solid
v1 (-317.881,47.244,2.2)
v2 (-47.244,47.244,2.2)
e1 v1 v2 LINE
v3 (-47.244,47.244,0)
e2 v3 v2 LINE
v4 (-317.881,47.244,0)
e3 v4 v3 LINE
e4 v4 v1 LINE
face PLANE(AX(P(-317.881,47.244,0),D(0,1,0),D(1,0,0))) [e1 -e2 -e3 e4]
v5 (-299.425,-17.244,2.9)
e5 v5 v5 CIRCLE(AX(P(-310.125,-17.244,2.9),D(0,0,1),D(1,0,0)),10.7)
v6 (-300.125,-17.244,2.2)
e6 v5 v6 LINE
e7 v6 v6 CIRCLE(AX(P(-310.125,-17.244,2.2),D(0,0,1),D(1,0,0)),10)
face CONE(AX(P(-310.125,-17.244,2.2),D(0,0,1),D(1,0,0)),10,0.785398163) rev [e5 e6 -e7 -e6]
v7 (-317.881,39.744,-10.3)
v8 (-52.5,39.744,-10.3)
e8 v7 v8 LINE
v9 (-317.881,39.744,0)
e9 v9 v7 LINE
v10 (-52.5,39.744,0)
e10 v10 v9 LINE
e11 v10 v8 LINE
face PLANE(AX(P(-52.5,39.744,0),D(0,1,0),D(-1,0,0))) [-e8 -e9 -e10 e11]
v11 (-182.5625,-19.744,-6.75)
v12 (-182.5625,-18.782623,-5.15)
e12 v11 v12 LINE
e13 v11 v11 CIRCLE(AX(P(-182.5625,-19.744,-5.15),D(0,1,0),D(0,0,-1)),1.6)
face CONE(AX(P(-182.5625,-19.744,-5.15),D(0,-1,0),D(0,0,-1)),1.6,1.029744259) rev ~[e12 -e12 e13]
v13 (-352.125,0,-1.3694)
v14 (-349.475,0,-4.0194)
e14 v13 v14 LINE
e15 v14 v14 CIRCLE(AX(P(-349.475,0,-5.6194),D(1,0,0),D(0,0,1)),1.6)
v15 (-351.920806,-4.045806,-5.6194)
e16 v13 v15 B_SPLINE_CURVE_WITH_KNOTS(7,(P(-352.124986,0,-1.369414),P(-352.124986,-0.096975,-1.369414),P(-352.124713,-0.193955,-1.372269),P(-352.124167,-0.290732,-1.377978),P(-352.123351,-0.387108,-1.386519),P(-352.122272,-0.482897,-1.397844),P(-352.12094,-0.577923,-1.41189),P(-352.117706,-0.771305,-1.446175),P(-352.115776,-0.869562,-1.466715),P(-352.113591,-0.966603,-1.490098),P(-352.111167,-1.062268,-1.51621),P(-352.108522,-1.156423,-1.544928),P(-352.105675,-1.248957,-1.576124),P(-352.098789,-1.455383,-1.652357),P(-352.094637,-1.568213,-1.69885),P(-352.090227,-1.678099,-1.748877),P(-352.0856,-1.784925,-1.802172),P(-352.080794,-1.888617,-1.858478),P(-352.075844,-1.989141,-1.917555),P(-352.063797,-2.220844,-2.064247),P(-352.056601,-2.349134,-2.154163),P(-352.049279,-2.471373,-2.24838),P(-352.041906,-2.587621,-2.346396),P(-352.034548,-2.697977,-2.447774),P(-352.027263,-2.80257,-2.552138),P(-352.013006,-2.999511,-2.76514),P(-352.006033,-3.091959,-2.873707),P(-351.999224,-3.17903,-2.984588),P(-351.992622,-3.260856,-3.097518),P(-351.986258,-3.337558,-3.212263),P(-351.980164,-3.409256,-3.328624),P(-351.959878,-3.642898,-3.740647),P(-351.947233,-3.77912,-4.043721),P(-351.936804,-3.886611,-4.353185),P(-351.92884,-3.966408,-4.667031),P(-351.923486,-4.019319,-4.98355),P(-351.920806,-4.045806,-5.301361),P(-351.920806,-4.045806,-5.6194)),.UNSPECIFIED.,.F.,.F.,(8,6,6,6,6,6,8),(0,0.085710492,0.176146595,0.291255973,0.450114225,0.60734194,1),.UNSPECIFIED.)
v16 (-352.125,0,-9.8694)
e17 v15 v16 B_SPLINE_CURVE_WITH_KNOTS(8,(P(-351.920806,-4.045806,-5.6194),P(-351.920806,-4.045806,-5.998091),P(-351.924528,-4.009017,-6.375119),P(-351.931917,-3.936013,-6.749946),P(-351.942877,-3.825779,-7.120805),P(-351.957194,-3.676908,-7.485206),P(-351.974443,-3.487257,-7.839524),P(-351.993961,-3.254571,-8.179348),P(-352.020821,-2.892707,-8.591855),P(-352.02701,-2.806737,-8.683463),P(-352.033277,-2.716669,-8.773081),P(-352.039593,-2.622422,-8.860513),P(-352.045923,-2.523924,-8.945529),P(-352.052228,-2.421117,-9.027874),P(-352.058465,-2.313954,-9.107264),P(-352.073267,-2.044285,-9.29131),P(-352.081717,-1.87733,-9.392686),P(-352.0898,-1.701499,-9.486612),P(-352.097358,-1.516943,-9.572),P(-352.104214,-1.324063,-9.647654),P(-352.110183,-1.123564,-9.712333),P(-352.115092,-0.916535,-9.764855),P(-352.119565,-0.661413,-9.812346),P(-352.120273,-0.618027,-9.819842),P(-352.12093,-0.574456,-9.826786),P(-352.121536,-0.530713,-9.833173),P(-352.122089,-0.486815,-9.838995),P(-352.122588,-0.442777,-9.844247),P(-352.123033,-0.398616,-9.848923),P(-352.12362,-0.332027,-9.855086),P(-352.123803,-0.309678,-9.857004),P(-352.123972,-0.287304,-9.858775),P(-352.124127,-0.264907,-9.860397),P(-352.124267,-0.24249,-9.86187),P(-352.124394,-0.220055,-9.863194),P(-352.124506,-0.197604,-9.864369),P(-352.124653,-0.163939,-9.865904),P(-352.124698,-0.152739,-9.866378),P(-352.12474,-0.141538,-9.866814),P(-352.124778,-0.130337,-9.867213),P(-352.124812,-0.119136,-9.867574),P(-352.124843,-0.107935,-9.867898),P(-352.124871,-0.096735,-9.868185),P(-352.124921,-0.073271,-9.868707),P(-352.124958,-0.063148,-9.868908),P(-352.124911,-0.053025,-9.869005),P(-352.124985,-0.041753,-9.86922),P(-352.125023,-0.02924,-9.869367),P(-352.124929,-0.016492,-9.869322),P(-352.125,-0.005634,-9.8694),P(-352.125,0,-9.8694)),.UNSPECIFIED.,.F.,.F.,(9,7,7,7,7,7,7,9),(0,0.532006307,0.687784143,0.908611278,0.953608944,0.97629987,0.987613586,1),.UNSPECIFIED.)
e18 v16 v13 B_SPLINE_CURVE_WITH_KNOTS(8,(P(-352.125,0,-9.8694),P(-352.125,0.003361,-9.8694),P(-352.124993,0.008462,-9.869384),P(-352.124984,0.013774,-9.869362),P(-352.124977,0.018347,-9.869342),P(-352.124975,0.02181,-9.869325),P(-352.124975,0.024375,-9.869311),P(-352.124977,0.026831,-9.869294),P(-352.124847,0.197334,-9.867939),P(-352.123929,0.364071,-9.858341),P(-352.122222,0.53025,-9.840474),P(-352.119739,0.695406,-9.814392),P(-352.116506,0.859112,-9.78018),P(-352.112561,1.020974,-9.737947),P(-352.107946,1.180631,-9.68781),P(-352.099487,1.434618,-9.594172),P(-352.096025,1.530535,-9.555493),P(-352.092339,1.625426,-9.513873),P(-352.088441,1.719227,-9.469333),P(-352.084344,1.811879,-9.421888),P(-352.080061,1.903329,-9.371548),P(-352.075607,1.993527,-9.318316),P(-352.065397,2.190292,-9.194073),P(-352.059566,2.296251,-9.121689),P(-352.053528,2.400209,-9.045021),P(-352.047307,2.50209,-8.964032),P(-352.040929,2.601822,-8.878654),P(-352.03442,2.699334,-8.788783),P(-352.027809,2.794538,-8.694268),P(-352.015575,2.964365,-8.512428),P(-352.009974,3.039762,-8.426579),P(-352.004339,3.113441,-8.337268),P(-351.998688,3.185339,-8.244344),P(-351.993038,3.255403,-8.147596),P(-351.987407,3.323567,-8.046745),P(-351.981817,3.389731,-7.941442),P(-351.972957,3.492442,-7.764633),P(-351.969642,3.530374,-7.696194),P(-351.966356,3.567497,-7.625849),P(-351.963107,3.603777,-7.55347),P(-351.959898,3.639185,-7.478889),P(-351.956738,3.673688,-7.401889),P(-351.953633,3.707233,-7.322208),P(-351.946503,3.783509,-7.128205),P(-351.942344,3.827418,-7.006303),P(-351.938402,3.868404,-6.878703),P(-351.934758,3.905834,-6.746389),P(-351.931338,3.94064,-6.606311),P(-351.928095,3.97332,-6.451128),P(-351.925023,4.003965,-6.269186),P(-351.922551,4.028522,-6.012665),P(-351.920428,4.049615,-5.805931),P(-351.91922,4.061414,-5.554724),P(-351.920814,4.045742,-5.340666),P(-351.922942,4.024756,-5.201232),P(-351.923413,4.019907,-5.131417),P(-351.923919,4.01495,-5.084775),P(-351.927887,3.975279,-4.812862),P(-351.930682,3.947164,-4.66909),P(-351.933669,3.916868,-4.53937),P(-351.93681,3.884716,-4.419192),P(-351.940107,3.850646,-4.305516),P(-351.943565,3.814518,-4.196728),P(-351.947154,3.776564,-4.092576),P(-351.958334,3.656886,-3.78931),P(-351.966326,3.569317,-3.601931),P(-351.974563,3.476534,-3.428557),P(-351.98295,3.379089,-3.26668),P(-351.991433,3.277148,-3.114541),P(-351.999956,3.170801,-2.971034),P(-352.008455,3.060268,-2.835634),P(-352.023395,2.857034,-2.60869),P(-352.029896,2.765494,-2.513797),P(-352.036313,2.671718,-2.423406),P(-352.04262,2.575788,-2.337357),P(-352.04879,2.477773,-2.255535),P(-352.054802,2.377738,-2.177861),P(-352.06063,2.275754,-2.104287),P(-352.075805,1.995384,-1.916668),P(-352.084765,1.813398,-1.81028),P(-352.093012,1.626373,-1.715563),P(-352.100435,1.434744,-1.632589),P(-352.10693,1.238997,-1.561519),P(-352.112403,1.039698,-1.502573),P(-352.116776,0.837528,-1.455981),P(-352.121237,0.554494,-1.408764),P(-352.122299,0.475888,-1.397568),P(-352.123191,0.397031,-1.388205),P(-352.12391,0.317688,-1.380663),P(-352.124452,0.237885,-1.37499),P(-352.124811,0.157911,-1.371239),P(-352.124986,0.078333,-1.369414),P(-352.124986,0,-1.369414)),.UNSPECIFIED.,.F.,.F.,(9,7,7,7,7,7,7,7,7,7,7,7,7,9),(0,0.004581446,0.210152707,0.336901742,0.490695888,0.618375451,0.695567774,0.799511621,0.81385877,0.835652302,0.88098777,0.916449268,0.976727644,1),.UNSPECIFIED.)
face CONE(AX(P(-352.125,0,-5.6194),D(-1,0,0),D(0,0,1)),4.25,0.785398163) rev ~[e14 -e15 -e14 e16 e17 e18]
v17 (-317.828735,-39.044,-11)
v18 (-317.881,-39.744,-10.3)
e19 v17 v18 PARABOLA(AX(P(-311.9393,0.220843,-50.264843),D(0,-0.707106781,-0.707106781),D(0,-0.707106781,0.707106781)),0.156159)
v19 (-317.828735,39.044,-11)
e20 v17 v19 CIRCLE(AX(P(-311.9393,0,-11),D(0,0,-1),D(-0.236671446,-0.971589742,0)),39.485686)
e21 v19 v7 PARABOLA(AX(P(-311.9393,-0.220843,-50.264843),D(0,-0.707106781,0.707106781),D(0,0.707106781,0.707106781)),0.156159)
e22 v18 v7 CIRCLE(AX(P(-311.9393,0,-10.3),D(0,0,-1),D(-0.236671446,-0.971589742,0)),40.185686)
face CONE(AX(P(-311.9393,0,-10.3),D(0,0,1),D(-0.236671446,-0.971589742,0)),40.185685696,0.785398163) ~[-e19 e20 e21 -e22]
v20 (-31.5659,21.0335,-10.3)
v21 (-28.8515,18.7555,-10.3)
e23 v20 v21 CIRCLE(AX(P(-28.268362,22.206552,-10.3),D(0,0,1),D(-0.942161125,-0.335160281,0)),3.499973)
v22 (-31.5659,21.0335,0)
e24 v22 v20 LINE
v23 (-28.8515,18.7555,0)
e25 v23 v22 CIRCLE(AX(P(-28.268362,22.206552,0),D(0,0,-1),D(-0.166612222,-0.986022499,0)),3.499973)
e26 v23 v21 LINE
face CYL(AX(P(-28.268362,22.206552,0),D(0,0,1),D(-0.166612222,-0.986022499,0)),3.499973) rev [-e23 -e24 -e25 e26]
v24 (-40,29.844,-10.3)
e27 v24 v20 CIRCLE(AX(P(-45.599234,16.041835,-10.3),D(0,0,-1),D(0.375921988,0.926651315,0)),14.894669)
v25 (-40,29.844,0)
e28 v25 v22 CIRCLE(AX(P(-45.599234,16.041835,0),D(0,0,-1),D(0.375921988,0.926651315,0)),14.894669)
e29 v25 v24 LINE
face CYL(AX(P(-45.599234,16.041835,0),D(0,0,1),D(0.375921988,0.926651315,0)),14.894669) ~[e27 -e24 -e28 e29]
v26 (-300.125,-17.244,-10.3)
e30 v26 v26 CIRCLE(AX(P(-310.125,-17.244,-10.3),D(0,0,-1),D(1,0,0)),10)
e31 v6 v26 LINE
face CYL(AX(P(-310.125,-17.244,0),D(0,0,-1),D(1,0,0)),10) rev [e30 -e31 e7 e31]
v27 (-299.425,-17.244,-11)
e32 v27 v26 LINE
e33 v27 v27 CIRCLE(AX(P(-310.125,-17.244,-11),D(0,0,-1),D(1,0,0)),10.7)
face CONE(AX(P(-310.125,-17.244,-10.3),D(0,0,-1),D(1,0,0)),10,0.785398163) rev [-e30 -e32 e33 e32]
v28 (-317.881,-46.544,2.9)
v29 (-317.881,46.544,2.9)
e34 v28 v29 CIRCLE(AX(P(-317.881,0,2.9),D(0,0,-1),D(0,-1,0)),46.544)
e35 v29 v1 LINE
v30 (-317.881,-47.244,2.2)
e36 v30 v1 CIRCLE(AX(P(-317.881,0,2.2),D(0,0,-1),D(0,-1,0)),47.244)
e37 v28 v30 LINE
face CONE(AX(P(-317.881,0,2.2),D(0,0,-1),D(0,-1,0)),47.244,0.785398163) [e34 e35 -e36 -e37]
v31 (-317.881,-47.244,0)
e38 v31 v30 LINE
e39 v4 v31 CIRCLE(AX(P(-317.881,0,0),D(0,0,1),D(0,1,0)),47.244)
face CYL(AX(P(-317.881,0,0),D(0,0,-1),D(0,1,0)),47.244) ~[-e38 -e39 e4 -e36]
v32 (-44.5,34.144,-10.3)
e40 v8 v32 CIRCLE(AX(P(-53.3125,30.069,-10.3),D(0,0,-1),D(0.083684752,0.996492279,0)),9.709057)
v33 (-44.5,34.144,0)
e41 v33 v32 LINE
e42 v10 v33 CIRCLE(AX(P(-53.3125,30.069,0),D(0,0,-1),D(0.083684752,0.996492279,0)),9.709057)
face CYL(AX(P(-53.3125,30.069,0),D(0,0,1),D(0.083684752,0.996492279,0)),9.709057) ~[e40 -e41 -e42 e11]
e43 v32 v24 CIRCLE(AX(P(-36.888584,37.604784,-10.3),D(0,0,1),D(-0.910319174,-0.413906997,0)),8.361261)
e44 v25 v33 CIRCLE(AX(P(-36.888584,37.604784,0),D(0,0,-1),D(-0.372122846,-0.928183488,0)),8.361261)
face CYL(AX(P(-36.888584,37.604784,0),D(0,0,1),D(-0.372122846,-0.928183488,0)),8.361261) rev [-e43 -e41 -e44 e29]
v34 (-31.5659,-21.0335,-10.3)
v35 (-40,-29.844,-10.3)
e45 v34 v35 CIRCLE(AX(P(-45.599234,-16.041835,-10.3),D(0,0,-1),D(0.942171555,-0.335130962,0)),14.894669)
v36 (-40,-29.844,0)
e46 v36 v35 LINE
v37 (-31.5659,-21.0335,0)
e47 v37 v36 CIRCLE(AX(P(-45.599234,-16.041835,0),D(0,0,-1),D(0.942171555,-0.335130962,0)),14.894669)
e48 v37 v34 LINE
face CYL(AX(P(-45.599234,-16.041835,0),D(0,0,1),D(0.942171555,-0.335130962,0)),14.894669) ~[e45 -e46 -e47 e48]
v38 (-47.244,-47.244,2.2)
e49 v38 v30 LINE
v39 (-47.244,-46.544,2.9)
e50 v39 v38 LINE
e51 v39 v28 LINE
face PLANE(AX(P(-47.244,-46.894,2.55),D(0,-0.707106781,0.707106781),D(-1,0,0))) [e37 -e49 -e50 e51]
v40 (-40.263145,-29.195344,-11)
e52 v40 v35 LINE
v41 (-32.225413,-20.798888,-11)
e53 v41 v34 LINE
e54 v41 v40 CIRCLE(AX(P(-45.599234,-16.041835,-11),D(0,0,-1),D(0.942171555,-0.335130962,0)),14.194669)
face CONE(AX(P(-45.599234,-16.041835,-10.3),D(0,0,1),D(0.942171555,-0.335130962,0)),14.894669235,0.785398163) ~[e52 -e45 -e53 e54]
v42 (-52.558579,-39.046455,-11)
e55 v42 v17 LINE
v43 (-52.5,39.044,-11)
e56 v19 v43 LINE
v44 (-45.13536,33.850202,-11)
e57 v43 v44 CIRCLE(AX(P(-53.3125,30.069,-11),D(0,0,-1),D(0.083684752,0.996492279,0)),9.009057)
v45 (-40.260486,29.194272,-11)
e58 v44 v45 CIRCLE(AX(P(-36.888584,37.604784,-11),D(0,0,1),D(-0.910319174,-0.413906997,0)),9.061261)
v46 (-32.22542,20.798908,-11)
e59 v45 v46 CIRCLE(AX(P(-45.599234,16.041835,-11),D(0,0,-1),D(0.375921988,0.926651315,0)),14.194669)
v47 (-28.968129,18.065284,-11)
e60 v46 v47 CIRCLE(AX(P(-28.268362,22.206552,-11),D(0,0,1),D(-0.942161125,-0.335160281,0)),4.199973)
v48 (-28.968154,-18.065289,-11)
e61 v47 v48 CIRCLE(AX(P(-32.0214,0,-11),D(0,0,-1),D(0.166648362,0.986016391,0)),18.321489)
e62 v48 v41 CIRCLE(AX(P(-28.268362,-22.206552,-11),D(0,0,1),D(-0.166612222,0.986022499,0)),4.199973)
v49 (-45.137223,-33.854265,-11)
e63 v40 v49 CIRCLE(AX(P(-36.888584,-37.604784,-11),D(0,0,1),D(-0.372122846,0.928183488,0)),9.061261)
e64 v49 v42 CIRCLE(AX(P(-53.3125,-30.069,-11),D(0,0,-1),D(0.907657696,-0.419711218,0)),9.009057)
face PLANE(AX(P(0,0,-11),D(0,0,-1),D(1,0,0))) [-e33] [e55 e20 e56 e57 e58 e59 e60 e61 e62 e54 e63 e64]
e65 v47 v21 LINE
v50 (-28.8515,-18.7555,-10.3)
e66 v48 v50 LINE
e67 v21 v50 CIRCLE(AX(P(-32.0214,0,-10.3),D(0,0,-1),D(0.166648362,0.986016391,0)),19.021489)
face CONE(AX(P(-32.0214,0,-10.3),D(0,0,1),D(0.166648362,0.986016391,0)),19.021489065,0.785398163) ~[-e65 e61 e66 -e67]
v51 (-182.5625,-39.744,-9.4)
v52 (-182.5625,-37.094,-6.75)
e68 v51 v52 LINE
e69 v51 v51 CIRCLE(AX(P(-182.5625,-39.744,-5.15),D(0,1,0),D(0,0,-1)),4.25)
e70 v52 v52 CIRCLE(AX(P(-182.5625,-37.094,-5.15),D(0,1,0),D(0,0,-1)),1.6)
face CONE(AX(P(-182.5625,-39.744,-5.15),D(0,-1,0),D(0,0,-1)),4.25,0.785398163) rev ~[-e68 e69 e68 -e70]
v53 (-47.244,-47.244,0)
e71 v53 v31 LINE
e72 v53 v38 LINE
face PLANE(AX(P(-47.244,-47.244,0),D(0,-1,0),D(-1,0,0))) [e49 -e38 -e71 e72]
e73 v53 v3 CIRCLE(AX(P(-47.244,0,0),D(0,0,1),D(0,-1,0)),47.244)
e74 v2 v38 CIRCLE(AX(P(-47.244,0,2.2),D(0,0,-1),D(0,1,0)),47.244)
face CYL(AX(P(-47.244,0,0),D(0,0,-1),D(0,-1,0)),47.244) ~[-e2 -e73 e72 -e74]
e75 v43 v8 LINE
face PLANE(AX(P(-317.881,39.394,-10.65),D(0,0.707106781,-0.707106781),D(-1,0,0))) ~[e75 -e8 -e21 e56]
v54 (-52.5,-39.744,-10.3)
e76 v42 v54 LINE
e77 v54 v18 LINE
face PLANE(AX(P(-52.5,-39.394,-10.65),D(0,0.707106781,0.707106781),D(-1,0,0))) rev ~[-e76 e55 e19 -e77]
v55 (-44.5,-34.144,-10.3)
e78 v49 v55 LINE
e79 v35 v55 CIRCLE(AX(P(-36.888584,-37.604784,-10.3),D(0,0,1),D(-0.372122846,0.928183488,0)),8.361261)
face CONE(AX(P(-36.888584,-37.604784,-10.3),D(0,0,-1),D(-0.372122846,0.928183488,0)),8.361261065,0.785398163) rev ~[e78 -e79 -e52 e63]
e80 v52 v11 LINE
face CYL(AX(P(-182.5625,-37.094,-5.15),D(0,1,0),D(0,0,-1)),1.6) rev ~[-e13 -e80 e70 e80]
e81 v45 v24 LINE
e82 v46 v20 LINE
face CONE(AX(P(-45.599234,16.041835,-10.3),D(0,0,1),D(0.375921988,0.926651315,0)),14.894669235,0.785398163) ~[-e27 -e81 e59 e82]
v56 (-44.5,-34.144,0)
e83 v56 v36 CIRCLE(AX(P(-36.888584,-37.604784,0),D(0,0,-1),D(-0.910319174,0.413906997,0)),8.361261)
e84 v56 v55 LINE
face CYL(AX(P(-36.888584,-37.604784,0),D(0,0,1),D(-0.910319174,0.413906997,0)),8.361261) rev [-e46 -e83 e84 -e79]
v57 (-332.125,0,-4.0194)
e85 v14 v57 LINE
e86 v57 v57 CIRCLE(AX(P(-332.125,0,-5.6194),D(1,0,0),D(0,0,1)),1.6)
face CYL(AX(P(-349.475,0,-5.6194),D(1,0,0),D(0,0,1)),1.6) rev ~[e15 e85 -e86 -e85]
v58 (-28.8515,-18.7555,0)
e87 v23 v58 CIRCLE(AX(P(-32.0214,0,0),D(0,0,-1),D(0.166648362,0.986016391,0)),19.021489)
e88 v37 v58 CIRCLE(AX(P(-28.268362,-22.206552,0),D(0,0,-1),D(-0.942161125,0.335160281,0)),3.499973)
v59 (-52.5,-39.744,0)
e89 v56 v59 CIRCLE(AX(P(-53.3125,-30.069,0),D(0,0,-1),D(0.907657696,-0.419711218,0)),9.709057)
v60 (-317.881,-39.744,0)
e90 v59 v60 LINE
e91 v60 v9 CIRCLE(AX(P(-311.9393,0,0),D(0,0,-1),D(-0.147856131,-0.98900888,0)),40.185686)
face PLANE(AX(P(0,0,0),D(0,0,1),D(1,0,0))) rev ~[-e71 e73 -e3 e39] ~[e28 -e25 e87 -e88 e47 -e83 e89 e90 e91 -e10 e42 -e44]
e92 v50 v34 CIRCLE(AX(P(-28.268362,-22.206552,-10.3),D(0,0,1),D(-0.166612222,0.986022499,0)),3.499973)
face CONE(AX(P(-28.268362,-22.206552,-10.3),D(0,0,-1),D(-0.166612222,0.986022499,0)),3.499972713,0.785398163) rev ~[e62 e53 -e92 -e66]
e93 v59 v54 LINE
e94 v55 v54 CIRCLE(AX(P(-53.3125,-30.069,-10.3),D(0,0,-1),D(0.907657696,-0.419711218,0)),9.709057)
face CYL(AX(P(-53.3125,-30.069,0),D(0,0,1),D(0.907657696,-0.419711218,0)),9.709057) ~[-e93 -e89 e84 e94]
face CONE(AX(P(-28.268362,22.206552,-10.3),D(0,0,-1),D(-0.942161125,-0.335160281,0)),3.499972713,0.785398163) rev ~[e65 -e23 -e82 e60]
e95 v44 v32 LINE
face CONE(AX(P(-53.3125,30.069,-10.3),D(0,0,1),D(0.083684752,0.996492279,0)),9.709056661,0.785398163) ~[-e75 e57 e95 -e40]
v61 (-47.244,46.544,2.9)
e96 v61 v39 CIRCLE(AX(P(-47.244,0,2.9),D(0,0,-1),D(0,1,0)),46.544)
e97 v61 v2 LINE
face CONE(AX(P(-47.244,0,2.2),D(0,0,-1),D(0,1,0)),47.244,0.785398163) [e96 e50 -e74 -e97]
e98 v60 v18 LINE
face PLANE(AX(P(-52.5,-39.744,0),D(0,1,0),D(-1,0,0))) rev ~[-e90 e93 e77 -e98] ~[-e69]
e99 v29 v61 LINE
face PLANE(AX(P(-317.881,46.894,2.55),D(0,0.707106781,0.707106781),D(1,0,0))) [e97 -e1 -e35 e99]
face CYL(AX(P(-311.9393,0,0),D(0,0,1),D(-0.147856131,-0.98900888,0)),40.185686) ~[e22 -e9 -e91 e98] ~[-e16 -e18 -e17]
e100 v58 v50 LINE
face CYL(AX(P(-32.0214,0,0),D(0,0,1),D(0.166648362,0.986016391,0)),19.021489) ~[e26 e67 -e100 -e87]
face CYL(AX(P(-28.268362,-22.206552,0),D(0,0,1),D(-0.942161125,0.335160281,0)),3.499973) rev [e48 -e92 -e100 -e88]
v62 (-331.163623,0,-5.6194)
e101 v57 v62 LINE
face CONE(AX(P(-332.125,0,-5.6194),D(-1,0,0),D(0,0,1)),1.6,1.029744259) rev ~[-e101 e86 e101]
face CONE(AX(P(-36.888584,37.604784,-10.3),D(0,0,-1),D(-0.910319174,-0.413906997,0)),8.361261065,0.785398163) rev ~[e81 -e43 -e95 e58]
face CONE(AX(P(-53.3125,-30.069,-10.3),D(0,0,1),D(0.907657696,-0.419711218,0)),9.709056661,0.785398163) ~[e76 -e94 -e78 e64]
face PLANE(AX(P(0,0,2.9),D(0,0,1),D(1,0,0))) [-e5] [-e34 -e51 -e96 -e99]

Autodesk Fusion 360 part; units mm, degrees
sketch "Sketch1" plane through (0, 0, 0) normal (0, 0, 1) x (1, 0, 0)
  line L0 (0, 0) -> (-365.125, 0) construction
  line L1 (-365.125, 0) -> (-365.125, 47.244) construction
  line L2 (-365.125, 47.244) -> (0, 47.244) construction
  line L3 (0, 47.244) -> (0, -47.244) construction
  line L4 (0, -47.244) -> (-365.125, -47.244) construction
  line L5 (-365.125, -47.244) -> (-365.125, 47.244) construction
  line L6 (-47.244, 47.244) -> (-47.244, -47.244) construction
  arc A0 (-47.244, -47.244) -> (-47.244, 47.244) centre (-47.244, 0) ccw
  line L7 (-317.881, 47.244) -> (-317.881, -47.244) construction
  arc A1 (-317.881, 47.244) -> (-317.881, -47.244) centre (-317.881, 0) ccw
  line L8 (-317.881, 47.244) -> (-47.244, 47.244)
  line L9 (-47.244, -47.244) -> (-317.881, -47.244)
  line L10 (-365.125, -47.244) -> (-310.125, -47.244) construction
  line L11 (-310.125, -47.244) -> (-310.125, -17.244) construction
  line L12 (-310.125, -17.244) -> (-365.125, -17.244) construction
  line L13 (-365.125, -17.244) -> (-365.125, -47.244) construction
  circle A2 centre (-310.125, -17.244) radius 10
  dimension "d3" = 365.125
  dimension "d4" = 47.244
  dimension "d5" = 365.125
  dimension "d6" = 94.488
  dimension "d10" = 55
  dimension "d11" = 30
  dimension "d12" = 20
extrude "Extrude1" add sketch "Sketch1" along normal blind 2.9
sketch "Sketch2" plane through (0, 0, 0) normal (0, 0, -1) x (1, 0, 0)
  circle A0 centre (-310.125, 17.244) radius 10 construction
  arc A1 (-317.881, 47.244) -> (-317.881, -47.244) centre (-317.881, 0) ccw construction
  line L0 (-317.881, -47.244) -> (-47.244, -47.244) construction
  arc A2 (-47.244, -47.244) -> (-47.244, 47.244) centre (-47.244, 0) ccw construction
  line L1 (-47.244, 47.244) -> (-317.881, 47.244) construction
  line L2 (0, 0) -> (-365.125, 0) construction
  line L3 (0, 0) -> (-31, 0) construction
  line L4 (-31, 0) -> (-31, -100) construction
  line L5 (0, 0) -> (-52.5, 0) construction
  line L6 (-52.5, 0) -> (-52.5, -100) construction
  line L7 (-52.5, 0) -> (-44.5, 0) construction
  line L8 (-44.5, 0) -> (-44.5, -100) construction
  line L9 (-52.5, 0) -> (-40, 0) construction
  line L10 (-40, 0) -> (-40, -100) construction
  line L11 (-52.5, -47.244) -> (-52.5, -39.744) construction
  line L12 (-52.5, -39.744) -> (-52.5, -34.144) construction
  line L13 (-52.5, -39.744) -> (-52.5, -29.844) construction
  line L14 (-52.5, -39.744) -> (-52.5, -18.994) construction
  line L15 (-52.5, -39.744) -> (47.5, -39.744) construction
  line L16 (-52.5, -34.144) -> (47.5, -34.144) construction
  line L17 (-52.5, -29.844) -> (47.5, -29.844) construction
  line L18 (-52.5, -18.994) -> (47.5, -18.994) construction
  line L19 (-52.5, -39.744) -> (-317.881, -39.744)
  arc A3 (-52.5, -39.744) -> (-44.5, -34.144) centre (-53.3125, -30.069) ccw
  arc A4 (-40, -29.844) -> (-44.5, -34.144) centre (-36.8886, -37.6048) ccw
  arc A5 (-40, -29.844) -> (-31.5659, -21.0335) centre (-45.5992, -16.0418) ccw
  line L20 (0, 0) -> (-365.125, 0) construction
  arc A6 (-31.5659, 21.0335) -> (-40, 29.844) centre (-45.5992, 16.0418) ccw
  arc A7 (-44.5, 34.144) -> (-40, 29.844) centre (-36.8886, 37.6048) ccw
  arc A8 (-44.5, 34.144) -> (-52.5, 39.744) centre (-53.3125, 30.069) ccw
  line L21 (-52.5, 39.744) -> (-317.881, 39.744)
  line L22 (-31, -18.994) -> (-31, 18.994) construction
  line L23 (-317.881, -47.244) -> (-317.881, -39.744) construction
  line L24 (-365.125, 0) -> (-352.125, 0) construction
  arc A9 (-317.881, 39.744) -> (-317.881, -39.744) centre (-311.9393, 0) ccw
  line L25 (0, 0) -> (-13, 0) construction
  arc A10 (-28.8515, -18.7555) -> (-28.8515, 18.7555) centre (-32.0214, 0) ccw
  arc A11 (-28.8515, -18.7555) -> (-31.5659, -21.0335) centre (-28.2683, -22.2065) ccw
  arc A12 (-31.5659, 21.0335) -> (-28.8515, 18.7555) centre (-28.2683, 22.2065) ccw
  circle A13 centre (-310.125, 17.244) radius 10
  dimension "d22" = 31
  dimension "d23" = 52.5
  dimension "d24" = 100
  dimension "d25" = 100
  dimension "d26" = 8
  dimension "d27" = 100
  dimension "d28" = 12.5
  dimension "d29" = 100
  dimension "d34" = 7.5
  dimension "d35" = 5.6
  dimension "d36" = 9.9
  dimension "d37" = 20.75
  dimension "d38" = 100
  dimension "d39" = 100
  dimension "d40" = 100
  dimension "d41" = 100
  dimension "d42" = 7.5
  dimension "d43" = 13
  dimension "d44" = 13
  dimension "d45" = 3.5
extrude "Extrude2" add sketch "Sketch2" along normal blind 11
chamfer "Chamfer1" distance 0.7 angle 45 5 edges at (-182.5625, 47.244, 2.9) (-365.125, 0, 2.9) (-182.5625, -47.244, 2.9) (0, 0, 2.9) (-319.4483, -13.6278, 2.9)
chamfer "Chamfer1" distance 0.7 angle 45 13 edges at (-185.1905, -39.744, -11) (-352.125, 0, -11) (-47.7447, -38.023, -11) (-42.665, -31.5597, -11) (-34.8398, -26.3416, -11) (-34.8398, 26.3416, -11) (-30.5183, 19.5256, -11) (-13, 0, -11) (-30.5183, -19.5256, -11) (-42.665, 31.5597, -11) (-47.7447, 38.023, -11) (-185.1905, 39.744, -11) (-319.4483, -20.8602, -11)
sketch "Sketch3" plane through (0, -39.744, 0) normal (0, -1, 0) x (1, 0, 0)
  line L0 (-317.881, -10.3) -> (-52.5, -10.3)
  line L1 (-52.5, -10.3) -> (-52.5, 0)
  line L2 (-52.5, 0) -> (-317.881, 0)
  line L3 (-317.881, 0) -> (-317.881, -10.3)
  line L4 (-44.5, 0) -> (-40, 0)
  line L5 (-31.5659, 0) -> (-40, 0)
  line L6 (-31.5659, 0) -> (-28.8515, 0)
  line L7 (-13, 0) -> (-28.8515, 0)
  line L8 (-31.5659, 0) -> (-28.8515, 0)
  line L9 (-31.5659, 0) -> (-40, 0)
  line L10 (-44.5, 0) -> (-40, 0)
  line L11 (-44.5, 0) -> (-52.5, 0)
  line L12 (-52.5, 0) -> (-317.881, 0)
  line L13 (-317.881, 0) -> (-352.125, 0)
  line L14 (-317.881, 0) -> (-52.5, 0)
  line L15 (-44.5, 0) -> (-52.5, 0)
  line L16 (-317.881, 0) -> (-365.125, 0)
  line L17 (-317.881, 0) -> (-47.244, 0)
  line L18 (0, 0) -> (-47.244, 0)
  line L19 (-47.244, 0) -> (-317.881, 0)
  line L20 (-182.5625, 0) -> (-182.5625, -10.3) construction
  line L21 (-182.5625, 0) -> (-182.5625, -5.15) construction
hole "Hole1" at (-182.5625, -39.744, -5.15) direction (0, 1, 0) diameter 3.2 depth 20 tip angle 118 countersink diameter 8.5 countersink angle 90
ref_plane "WorkPlane1" through (-352.125, 0, 0) normal (1, 0, 0) x (0, 1, 0)
sketch "Sketch4" plane through (-352.125, 0, 0) normal (1, 0, 0) x (0, 1, 0)
  line L0 (39.044, -11) -> (-39.044, -11)
  line L1 (-39.744, 0) -> (39.744, 0)
  line L2 (0, 0) -> (0, -11)
  line L3 (0, 0) -> (0, -5.5)
hole "Hole2" at (-352.125, 0, -5.6194) direction (1, 0, 0) diameter 3.2 depth 20 tip angle 118 countersink diameter 8.5 countersink angle 90
equation "TopL = ( ( 14 + ( 3 / 8 ) ) * 25.4 ) * 1 mm" comment "Overall Length"
equation "TopW = ( 3.72 * 25.4 ) * 1 mm" comment "Overall Width"
equation "d3 = TopL"
equation "d4 = TopW / 2"
equation "d5 = TopL"
equation "d6 = TopW"
equation "HoleB = 30 mm" comment "Hole from Bottom"
equation "HoleR = 55 mm" comment "Hole From Right"
equation "HoleD = 20 mm" comment "Hole Diameter"
equation "TopT = 2.9 mm" comment "Top Thickness"
equation "d14 = TopT"
equation "TrailEndO = 13 mm" comment "Offset on left"
equation "TrailFC = 52.5 mm" comment "Beginning of first curve"
equation "TrailSC = 8 mm" comment "Beginning of Second Curve"
equation "TrailTC = 12.5 mm" comment "Beginning of Thrid Curve"
equation "TrailFlat = 31 mm"
equation "d22 = TrailFlat"
equation "d23 = TrailFC"
equation "d26 = TrailSC"
equation "d28 = TrailTC"
equation "TrailFW = 5.6 mm" comment "First Curve Width"
equation "TrailSW = 9.9 mm" comment "Second Curve Width"
equation "TrailTW = 20.75 mm" comment "Third Cure Width"
equation "BottomWO = 7.5 mm" comment "Bottom Width Offset"
equation "d34 = BottomWO"
equation "d35 = TrailFW"
equation "d36 = TrailSW"
equation "d37 = TrailTW"
equation "d42 = BottomWO"
equation "d43 = TrailEndO"
equation "d44 = TrailEndO"
equation "BottomT = 11 mm" comment "BottomThickness"
equation "d47 = BottomT"
equation "d55 = -TopL + TrailEndO"
